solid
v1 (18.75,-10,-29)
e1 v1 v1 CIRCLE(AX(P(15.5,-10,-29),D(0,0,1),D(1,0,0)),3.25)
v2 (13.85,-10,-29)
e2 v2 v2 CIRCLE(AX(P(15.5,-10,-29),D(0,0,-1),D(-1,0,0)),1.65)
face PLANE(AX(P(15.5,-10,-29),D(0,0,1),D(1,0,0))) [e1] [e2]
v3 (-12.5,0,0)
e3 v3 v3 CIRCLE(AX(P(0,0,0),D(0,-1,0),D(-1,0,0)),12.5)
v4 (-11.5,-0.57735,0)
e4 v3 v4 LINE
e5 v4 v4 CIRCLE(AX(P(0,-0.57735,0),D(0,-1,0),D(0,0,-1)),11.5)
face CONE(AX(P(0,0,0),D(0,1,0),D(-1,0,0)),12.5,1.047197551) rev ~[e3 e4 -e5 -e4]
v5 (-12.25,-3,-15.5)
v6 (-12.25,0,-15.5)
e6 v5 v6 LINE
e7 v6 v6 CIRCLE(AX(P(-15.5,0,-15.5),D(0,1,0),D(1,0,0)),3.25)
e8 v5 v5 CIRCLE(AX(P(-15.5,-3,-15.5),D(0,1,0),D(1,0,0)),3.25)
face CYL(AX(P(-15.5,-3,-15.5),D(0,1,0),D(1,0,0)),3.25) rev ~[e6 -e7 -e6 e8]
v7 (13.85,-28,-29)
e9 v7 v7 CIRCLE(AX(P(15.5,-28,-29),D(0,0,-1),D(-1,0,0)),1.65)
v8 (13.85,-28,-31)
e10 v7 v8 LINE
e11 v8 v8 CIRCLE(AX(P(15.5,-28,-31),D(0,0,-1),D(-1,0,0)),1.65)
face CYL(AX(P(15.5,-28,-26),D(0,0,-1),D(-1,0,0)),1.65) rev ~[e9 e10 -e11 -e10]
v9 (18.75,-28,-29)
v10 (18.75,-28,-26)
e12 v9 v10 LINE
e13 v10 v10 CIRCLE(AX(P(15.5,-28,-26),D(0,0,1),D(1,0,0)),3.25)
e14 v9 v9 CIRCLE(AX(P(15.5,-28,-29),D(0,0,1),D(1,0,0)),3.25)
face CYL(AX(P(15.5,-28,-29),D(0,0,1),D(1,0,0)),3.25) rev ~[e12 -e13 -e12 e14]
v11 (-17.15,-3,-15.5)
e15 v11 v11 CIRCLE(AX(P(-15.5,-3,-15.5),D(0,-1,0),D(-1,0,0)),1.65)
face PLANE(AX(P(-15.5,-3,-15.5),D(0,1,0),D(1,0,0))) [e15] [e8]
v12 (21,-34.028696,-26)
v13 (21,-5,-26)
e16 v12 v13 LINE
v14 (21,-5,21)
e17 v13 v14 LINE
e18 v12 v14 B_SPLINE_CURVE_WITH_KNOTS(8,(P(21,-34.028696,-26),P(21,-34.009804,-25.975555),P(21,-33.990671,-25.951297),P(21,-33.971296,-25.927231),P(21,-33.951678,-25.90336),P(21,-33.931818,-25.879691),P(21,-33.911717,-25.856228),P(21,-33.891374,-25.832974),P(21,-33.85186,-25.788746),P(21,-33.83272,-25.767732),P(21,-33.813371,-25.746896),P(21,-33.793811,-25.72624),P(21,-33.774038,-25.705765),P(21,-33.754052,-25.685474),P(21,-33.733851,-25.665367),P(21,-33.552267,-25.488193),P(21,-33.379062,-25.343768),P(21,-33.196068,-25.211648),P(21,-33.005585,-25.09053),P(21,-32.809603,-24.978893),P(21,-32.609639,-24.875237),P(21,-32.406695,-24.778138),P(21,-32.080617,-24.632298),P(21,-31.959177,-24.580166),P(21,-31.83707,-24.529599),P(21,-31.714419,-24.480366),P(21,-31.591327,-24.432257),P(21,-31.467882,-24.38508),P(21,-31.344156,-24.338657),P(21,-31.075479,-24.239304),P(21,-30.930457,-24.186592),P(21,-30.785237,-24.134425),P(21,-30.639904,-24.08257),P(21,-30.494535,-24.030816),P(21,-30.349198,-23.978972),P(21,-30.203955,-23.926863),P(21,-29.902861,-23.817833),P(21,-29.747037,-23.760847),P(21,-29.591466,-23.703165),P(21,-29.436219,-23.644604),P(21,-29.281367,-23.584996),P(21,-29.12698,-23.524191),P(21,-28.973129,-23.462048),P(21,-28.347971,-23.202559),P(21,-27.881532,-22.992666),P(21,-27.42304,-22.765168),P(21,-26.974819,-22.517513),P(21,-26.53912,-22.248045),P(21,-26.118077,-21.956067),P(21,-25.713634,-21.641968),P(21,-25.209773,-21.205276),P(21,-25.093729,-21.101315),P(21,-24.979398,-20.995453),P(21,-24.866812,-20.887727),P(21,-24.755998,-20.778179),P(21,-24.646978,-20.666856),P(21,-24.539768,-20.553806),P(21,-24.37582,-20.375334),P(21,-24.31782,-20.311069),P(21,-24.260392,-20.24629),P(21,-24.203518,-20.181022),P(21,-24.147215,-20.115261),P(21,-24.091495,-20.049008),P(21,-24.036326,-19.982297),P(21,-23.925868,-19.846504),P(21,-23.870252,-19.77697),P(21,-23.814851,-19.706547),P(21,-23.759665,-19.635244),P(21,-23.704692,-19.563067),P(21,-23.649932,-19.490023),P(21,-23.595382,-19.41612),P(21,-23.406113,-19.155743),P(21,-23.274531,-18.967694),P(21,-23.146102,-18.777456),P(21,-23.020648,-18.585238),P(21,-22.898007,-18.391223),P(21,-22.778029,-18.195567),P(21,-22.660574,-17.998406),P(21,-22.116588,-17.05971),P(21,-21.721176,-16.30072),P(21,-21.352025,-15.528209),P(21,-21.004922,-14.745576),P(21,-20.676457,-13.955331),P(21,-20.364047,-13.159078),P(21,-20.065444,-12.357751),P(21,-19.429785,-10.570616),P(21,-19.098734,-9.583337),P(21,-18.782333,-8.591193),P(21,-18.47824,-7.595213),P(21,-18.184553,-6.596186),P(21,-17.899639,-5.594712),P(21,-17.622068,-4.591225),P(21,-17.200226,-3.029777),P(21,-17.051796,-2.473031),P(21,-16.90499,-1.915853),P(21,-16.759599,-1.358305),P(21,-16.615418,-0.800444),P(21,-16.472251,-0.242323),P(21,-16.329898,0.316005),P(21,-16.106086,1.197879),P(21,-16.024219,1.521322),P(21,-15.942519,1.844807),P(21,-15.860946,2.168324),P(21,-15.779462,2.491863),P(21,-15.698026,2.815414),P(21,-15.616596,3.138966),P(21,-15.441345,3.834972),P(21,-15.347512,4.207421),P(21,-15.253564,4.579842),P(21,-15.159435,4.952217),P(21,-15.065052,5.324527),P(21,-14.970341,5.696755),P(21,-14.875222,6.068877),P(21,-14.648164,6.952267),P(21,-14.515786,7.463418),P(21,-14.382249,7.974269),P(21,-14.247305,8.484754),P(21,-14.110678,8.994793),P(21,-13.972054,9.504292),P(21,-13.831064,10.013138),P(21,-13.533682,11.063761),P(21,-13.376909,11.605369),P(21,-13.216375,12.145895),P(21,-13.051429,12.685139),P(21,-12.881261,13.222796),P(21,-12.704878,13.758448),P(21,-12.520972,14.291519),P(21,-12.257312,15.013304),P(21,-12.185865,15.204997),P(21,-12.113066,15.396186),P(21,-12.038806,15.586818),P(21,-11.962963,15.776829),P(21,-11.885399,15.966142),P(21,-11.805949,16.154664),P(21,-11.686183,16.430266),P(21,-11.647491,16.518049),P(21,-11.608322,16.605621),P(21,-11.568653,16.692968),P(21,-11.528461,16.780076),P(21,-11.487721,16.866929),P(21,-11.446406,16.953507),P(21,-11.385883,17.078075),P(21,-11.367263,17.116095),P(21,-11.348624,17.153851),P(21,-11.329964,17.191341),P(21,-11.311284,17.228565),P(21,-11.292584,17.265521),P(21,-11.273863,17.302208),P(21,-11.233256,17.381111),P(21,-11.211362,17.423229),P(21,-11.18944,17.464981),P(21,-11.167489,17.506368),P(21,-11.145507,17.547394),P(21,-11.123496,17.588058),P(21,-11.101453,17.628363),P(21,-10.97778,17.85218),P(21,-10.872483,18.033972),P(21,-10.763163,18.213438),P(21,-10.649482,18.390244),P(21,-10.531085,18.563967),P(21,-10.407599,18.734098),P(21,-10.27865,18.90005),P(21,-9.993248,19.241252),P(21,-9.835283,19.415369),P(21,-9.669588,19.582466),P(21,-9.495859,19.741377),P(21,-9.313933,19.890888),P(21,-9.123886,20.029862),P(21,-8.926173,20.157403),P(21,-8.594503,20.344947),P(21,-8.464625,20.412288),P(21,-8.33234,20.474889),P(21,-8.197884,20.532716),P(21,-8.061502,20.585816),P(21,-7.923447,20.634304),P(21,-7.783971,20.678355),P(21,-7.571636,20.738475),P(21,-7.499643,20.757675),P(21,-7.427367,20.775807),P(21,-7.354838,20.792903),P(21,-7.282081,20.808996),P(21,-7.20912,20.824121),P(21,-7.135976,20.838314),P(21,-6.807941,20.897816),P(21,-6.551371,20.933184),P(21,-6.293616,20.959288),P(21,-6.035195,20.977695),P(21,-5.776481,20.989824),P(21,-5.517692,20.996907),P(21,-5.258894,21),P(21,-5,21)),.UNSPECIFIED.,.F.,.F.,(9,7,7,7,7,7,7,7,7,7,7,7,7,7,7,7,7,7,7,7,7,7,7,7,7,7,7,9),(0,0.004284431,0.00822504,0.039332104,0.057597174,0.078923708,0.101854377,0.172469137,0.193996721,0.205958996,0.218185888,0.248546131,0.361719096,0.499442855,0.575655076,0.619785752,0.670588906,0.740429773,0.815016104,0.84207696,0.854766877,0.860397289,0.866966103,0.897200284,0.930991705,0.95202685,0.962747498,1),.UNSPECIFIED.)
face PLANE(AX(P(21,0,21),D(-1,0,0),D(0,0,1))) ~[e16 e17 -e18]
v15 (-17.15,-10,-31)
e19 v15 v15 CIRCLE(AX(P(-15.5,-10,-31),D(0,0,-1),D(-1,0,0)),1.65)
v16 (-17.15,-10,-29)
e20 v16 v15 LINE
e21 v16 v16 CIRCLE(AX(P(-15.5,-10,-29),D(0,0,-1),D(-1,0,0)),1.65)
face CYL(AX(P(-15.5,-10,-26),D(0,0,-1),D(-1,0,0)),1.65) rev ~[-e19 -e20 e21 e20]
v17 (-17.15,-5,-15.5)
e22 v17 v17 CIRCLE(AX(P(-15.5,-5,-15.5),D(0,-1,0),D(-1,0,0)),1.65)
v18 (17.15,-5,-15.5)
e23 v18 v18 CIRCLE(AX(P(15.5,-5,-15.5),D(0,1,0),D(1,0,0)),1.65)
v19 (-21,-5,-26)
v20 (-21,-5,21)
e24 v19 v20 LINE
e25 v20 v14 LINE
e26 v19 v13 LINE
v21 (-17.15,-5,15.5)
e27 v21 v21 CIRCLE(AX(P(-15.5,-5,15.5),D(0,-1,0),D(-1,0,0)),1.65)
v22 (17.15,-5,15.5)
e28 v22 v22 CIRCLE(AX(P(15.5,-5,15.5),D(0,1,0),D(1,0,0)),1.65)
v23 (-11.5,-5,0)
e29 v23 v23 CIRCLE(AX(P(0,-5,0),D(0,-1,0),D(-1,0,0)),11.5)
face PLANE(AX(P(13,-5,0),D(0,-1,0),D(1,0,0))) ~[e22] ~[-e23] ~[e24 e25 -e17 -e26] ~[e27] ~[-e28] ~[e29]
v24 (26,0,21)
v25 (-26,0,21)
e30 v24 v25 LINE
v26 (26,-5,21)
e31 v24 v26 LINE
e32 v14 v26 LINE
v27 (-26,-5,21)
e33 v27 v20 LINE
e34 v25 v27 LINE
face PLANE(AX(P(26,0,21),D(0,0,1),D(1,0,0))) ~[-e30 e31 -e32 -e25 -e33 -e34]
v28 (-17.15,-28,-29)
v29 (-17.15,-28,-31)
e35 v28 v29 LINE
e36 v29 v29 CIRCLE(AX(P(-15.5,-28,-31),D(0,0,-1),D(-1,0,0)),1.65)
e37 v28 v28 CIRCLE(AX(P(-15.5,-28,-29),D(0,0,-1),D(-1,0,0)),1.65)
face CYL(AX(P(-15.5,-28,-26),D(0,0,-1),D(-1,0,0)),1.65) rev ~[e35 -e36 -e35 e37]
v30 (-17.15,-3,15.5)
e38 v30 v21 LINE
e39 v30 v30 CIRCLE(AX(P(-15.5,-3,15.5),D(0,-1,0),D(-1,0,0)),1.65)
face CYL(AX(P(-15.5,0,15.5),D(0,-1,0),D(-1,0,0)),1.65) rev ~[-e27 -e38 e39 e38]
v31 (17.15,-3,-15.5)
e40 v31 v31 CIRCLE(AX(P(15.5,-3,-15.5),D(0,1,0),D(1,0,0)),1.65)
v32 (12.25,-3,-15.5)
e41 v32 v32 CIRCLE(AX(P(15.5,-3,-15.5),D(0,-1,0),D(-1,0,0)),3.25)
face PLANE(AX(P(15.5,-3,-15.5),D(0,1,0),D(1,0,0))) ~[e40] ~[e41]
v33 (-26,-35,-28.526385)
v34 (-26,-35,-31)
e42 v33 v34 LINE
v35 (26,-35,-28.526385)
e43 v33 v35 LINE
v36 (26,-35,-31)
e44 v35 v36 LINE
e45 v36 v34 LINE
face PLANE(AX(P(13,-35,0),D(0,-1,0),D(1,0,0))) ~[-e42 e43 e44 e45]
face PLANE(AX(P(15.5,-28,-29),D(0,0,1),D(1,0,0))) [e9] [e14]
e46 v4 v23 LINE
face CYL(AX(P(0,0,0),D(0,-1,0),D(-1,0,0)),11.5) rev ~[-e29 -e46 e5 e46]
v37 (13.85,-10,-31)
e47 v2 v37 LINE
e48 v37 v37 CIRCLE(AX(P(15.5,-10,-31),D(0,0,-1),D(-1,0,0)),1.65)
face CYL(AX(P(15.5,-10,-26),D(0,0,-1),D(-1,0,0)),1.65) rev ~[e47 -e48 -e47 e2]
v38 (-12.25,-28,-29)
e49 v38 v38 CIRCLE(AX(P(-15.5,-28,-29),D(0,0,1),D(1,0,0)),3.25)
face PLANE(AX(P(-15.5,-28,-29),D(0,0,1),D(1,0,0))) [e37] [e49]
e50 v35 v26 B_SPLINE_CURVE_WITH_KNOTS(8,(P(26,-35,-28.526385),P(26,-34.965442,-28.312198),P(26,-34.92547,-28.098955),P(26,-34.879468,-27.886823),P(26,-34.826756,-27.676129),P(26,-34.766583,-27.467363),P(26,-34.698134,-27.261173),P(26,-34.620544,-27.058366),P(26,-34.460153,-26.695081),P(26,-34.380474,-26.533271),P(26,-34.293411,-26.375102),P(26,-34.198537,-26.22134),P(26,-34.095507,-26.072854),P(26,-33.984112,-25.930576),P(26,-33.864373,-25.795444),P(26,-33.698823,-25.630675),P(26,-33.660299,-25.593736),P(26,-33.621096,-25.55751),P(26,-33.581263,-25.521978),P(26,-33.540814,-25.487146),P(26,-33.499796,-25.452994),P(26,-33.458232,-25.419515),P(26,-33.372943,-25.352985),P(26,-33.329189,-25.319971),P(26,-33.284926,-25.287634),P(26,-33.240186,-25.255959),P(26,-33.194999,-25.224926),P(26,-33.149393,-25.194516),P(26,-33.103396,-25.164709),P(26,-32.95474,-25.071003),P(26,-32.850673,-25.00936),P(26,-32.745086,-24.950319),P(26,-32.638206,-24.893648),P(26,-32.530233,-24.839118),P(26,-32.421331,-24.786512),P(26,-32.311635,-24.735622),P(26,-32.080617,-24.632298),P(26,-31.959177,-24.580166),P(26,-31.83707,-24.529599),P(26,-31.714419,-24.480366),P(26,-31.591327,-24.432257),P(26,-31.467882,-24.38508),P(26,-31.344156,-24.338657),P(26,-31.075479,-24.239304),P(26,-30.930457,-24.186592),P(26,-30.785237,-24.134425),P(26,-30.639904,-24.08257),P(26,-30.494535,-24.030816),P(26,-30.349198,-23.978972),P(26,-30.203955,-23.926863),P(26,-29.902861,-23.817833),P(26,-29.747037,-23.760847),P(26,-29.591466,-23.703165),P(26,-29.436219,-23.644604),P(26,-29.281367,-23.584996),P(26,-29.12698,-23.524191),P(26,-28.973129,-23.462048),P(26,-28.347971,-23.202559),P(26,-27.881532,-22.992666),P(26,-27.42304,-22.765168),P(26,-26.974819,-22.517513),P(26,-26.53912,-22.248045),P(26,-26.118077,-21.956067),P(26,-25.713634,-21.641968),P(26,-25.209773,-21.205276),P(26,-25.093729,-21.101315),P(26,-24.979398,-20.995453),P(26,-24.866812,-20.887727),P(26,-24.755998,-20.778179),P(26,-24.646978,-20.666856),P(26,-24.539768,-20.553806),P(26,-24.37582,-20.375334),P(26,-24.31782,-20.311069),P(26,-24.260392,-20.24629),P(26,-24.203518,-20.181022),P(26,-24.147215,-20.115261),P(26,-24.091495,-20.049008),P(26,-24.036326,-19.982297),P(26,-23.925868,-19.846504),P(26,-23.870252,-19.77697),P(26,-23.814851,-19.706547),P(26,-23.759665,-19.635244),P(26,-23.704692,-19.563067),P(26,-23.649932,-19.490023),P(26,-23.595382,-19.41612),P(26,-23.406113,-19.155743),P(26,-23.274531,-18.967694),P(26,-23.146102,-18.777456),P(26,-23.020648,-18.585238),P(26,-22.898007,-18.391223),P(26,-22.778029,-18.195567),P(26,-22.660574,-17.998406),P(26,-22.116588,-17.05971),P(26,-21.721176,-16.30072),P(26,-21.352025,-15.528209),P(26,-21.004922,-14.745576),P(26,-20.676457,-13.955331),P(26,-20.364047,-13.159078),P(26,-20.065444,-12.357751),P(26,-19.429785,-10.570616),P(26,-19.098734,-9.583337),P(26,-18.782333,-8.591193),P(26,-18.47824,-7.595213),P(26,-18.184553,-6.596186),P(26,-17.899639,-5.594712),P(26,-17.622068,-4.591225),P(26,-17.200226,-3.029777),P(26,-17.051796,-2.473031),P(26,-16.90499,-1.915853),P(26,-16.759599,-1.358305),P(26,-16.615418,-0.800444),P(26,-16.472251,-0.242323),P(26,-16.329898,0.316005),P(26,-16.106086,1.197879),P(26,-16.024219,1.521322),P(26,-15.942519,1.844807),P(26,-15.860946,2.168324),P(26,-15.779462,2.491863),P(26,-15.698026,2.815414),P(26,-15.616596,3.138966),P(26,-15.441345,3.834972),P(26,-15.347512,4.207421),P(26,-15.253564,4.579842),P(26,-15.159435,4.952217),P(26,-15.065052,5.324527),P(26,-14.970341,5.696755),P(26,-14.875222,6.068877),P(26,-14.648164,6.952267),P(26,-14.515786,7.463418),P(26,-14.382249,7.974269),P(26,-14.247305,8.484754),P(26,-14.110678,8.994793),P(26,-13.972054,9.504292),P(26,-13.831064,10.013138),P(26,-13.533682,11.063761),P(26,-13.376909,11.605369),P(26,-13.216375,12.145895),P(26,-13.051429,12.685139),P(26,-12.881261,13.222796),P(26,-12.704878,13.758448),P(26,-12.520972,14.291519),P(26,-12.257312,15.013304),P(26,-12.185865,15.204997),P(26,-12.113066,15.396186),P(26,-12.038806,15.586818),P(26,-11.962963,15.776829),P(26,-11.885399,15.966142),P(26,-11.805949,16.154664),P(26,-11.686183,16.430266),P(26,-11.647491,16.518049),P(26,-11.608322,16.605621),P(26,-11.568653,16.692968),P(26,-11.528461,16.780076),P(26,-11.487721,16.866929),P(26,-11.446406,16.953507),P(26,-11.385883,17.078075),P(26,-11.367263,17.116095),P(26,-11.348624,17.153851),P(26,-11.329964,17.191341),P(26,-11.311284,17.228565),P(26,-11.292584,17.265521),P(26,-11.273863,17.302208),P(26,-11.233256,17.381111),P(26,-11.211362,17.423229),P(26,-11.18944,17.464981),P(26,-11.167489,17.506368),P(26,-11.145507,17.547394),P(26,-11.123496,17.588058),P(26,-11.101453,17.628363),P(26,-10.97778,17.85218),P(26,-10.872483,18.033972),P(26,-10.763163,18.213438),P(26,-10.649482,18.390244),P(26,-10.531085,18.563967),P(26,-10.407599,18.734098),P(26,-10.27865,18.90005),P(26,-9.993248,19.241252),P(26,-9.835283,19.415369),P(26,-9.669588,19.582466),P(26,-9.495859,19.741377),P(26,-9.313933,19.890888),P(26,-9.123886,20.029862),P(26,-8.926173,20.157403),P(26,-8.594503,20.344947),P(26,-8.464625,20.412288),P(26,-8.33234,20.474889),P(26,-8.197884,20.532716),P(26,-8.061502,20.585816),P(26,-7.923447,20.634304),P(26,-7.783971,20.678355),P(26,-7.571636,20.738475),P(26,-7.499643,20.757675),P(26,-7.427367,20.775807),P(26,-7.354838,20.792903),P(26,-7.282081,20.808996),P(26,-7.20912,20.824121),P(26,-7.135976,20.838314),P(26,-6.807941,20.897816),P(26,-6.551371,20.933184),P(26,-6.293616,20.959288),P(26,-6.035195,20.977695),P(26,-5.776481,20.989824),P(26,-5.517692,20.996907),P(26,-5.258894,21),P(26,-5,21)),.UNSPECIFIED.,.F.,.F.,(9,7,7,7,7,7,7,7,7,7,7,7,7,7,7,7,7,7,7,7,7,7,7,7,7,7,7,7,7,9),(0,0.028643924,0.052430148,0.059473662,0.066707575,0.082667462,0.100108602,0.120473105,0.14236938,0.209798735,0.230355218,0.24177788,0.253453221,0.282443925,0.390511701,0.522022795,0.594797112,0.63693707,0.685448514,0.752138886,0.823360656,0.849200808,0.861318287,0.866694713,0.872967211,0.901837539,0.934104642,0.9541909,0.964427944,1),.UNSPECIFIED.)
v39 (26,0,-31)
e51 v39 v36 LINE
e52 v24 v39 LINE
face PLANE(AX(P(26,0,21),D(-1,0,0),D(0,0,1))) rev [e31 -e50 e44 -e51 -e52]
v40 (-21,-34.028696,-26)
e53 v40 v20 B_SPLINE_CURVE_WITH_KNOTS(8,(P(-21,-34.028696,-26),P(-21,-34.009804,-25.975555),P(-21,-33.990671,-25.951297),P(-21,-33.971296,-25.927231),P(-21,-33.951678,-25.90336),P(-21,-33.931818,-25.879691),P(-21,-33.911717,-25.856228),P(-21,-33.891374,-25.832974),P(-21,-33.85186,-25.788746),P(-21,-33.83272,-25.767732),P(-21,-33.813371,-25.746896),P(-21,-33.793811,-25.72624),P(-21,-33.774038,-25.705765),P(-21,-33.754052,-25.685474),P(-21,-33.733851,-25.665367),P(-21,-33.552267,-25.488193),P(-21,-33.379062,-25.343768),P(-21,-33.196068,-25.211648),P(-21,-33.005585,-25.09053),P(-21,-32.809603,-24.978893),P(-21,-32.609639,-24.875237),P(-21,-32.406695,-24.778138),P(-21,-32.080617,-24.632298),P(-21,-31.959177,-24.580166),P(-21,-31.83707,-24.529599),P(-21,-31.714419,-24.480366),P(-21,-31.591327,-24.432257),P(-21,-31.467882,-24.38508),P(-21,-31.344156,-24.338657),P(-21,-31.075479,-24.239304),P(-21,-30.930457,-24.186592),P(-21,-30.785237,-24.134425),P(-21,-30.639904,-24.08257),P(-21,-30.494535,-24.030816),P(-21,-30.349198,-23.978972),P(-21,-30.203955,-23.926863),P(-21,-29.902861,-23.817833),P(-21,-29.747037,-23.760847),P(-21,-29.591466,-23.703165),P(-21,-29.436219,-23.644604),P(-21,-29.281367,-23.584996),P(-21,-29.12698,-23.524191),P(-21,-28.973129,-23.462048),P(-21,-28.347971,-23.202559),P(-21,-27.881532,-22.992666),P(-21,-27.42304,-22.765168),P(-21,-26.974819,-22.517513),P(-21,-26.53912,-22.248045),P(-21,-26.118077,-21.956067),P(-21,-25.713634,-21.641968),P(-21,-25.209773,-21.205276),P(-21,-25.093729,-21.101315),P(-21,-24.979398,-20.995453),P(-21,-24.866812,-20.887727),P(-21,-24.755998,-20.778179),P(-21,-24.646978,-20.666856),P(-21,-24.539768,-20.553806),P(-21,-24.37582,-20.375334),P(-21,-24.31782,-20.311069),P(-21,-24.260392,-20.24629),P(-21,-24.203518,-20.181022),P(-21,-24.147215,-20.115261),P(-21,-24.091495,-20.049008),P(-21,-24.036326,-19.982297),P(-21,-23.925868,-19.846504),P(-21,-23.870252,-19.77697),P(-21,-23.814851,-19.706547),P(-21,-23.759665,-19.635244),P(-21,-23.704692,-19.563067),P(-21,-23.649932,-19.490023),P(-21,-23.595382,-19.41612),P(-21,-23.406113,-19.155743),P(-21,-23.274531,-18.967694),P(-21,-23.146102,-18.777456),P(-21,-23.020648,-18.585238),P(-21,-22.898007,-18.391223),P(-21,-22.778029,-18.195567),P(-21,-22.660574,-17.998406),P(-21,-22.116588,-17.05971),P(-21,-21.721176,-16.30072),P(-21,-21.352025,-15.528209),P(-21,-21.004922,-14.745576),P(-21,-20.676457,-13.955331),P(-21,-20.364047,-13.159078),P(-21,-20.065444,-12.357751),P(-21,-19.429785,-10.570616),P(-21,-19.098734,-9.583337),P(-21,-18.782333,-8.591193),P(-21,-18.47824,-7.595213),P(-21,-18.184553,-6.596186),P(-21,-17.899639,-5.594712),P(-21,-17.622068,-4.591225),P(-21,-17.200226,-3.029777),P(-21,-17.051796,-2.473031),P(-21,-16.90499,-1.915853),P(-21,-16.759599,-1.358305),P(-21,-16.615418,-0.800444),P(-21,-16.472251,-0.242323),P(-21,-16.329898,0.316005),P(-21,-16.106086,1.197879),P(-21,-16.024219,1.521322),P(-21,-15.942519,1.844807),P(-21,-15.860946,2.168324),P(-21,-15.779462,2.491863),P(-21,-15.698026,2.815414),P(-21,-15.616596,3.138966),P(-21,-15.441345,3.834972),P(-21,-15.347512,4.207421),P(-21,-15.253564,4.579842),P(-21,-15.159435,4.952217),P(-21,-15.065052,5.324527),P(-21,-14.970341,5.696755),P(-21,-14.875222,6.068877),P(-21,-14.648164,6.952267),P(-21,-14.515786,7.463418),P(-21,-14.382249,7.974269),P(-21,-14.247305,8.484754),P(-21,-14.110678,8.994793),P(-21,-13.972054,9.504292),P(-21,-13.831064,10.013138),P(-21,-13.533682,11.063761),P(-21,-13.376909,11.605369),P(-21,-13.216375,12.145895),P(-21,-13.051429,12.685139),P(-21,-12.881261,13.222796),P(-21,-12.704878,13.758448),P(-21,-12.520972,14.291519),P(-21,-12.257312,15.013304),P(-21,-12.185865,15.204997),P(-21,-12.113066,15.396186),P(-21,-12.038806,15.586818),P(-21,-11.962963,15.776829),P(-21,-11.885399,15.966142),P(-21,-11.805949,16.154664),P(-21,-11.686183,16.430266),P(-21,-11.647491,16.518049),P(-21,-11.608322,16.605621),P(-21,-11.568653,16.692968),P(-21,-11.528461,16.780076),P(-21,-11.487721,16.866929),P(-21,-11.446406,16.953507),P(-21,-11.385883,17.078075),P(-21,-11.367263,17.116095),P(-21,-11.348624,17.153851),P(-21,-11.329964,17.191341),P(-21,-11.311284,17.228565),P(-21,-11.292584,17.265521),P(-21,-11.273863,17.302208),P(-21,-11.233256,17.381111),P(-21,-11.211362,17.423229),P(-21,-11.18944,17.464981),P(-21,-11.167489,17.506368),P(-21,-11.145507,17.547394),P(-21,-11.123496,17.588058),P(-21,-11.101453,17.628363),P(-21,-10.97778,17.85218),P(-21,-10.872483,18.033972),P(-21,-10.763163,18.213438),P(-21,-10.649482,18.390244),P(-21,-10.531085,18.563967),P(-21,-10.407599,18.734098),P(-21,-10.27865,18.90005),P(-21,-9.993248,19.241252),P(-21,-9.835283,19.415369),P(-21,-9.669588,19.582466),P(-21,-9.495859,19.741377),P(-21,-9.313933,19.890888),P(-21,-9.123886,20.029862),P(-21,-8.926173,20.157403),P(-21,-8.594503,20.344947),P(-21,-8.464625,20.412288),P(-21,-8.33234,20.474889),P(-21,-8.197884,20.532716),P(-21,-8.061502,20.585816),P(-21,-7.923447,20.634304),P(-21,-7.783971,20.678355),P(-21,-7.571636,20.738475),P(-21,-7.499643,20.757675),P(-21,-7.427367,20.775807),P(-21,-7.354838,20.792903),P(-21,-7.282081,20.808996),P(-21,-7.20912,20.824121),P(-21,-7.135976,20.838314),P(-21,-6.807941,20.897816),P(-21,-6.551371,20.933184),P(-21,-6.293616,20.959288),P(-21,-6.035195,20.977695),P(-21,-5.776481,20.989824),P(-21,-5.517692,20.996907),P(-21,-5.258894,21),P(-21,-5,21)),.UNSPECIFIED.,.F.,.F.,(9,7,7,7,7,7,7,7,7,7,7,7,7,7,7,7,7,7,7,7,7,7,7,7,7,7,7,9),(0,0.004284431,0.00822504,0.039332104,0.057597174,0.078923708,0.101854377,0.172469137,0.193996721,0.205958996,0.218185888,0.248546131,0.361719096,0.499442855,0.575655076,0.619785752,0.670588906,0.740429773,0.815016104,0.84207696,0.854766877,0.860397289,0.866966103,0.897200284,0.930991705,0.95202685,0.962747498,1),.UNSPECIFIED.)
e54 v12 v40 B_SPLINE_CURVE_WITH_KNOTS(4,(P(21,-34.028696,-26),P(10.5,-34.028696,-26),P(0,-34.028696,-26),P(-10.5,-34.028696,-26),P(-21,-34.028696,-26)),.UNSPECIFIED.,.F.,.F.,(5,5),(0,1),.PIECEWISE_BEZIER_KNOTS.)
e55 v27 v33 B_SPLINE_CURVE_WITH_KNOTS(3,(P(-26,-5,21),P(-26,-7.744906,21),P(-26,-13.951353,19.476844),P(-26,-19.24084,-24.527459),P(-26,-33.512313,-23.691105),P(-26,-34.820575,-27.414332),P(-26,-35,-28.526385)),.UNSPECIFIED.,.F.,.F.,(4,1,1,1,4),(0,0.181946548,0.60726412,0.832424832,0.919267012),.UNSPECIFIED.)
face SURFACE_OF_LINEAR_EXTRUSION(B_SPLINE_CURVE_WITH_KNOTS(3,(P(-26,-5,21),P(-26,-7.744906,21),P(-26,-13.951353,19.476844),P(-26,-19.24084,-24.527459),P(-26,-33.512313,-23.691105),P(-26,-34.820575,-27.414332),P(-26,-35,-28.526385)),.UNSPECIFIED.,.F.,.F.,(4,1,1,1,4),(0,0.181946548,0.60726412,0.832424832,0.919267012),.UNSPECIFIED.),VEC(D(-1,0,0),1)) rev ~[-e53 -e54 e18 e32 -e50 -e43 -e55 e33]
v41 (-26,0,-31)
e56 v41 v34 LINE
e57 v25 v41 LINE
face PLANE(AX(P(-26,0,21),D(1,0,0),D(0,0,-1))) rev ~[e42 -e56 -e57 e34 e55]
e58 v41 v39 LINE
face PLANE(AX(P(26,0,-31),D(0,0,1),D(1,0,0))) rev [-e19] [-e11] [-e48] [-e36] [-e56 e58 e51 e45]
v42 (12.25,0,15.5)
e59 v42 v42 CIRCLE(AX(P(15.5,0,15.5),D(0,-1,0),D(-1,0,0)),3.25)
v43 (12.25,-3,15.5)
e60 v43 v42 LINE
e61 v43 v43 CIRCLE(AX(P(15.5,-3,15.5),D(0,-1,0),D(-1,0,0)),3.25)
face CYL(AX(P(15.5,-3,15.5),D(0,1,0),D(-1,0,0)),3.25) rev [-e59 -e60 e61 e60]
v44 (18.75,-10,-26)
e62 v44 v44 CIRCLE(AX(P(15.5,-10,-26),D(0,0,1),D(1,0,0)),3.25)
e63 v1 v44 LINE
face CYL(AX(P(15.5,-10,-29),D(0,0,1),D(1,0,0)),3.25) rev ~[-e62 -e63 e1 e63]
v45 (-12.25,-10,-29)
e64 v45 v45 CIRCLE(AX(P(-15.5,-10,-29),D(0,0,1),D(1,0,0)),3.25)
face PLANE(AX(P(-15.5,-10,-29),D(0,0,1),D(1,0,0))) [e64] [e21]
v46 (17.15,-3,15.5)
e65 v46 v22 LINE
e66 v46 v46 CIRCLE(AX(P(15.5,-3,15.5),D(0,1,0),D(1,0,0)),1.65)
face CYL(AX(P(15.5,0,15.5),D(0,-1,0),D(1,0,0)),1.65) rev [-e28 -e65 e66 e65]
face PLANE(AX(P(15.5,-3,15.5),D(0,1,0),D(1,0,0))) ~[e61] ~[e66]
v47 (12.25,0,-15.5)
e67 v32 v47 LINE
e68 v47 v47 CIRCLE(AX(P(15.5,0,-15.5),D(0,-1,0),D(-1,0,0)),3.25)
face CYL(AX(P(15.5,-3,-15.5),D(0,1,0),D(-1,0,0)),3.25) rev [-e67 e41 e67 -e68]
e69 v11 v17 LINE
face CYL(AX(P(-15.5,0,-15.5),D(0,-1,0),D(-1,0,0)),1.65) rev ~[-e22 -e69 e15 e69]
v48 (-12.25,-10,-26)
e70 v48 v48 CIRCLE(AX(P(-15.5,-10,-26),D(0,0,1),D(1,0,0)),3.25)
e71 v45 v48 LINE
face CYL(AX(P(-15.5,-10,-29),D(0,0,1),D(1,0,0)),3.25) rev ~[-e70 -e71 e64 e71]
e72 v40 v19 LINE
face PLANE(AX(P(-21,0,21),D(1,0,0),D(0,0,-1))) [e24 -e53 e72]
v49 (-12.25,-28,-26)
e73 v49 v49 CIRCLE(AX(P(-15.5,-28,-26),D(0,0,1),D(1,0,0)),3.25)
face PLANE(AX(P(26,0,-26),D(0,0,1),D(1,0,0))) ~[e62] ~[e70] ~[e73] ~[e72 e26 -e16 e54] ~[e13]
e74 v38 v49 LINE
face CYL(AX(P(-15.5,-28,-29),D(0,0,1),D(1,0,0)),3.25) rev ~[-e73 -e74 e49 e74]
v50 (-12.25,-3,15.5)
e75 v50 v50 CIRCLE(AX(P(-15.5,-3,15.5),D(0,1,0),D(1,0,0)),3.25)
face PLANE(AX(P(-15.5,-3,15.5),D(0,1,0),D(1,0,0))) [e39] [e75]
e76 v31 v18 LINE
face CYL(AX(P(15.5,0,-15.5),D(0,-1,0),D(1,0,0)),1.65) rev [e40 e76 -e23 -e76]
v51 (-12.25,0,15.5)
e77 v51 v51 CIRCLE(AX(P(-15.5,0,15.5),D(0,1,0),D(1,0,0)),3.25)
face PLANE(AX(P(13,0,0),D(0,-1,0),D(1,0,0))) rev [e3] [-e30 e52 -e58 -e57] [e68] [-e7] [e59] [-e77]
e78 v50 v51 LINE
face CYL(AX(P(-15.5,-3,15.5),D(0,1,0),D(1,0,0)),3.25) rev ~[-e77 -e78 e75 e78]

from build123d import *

# Parameters (mm, degrees)
F0_W           = 26
F0_H           = 42
F0_H_2         = 10
F1_DEPTH       = 35
F2_T           = -5
F3_D           = 3.3
F3_CBORE_D     = 6.5
F3_CBORE_DEPTH = 3
F5_D           = 23
F5_CSINK_D     = 25
F5_CSINK_ANGLE = 120
F7_DEPTH       = 52.001
F9_D           = 3.3
F9_CBORE_D     = 6.5
F9_CBORE_DEPTH = 3


with BuildPart() as f1:
    # F0 (on Front) → F1 (new body)
    with BuildSketch(Plane.XZ):
        with Locations((-13, 0)):
            Rectangle(F0_W, F0_H)
        with Locations((-13, -26)):
            Rectangle(F0_W, F0_H_2)
    extrude(amount=F1_DEPTH)

    # F2
    f2_openings = [f1.faces().sort_by_distance(p)[0] for p in [
        (-13, -17.5, 21),
        (0, -17.5, -5),
        (-13, -35, -5),
    ]]
    offset(amount=F2_T, openings=f2_openings)

    # F3 (through all)
    with Locations(Plane(origin=(0, 0, 0), x_dir=(1, 0, 0), z_dir=(0, 1, 0))):
        with Locations((-15.5, -15.5), (-15.5, 15.5)):
            CounterBoreHole(F3_D / 2, F3_CBORE_D / 2, F3_CBORE_DEPTH)

    # F4: F1 across plane


with BuildPart() as f1_1:
    add(f1.part)
    add(f1.part.mirror(Plane.YZ))

    # F5 (through all)
    with Locations(Plane(origin=(0, 0, 0), x_dir=(1, 0, 0), z_dir=(0, 1, 0))):
        with Locations((0, 0)):
            CounterSinkHole(F5_D / 2, F5_CSINK_D / 2, counter_sink_angle=F5_CSINK_ANGLE)

    # F6 (on face) → F7 (cut, through all)
    with BuildSketch(Plane(origin=(-26, 0, 0), x_dir=(0, -1, 0), z_dir=(-1, 0, 0))):
        with BuildLine():
            Line((35, 21), (5, 21))
            add(Edge.make_bspline(
                [(5, 21), (7.7449056049, 21), (13.9513526434, 19.4768436818), (19.2408397363, -24.5274589267), (33.5123126237, -23.6911051001), (34.8205749502, -27.4143324053), (35, -28.5263849619)],
                knots=[0, 0, 0, 0, 0.1819465478, 0.6072641204, 0.8324248321, 0.9192670122, 0.9192670122, 0.9192670122, 0.9192670122], degree=3))
            Line((35, -28.5263849619), (35, 21))
        make_face()
    extrude(amount=-F7_DEPTH, mode=Mode.SUBTRACT)

    # F9 (through all)
    with Locations(Plane.XY.offset(-26)):
        with Locations((-15.5, -10), (15.5, -10), (15.5, -28), (-15.5, -28)):
            CounterBoreHole(F9_D / 2, F9_CBORE_D / 2, F9_CBORE_DEPTH)


solid = f1_1.part
